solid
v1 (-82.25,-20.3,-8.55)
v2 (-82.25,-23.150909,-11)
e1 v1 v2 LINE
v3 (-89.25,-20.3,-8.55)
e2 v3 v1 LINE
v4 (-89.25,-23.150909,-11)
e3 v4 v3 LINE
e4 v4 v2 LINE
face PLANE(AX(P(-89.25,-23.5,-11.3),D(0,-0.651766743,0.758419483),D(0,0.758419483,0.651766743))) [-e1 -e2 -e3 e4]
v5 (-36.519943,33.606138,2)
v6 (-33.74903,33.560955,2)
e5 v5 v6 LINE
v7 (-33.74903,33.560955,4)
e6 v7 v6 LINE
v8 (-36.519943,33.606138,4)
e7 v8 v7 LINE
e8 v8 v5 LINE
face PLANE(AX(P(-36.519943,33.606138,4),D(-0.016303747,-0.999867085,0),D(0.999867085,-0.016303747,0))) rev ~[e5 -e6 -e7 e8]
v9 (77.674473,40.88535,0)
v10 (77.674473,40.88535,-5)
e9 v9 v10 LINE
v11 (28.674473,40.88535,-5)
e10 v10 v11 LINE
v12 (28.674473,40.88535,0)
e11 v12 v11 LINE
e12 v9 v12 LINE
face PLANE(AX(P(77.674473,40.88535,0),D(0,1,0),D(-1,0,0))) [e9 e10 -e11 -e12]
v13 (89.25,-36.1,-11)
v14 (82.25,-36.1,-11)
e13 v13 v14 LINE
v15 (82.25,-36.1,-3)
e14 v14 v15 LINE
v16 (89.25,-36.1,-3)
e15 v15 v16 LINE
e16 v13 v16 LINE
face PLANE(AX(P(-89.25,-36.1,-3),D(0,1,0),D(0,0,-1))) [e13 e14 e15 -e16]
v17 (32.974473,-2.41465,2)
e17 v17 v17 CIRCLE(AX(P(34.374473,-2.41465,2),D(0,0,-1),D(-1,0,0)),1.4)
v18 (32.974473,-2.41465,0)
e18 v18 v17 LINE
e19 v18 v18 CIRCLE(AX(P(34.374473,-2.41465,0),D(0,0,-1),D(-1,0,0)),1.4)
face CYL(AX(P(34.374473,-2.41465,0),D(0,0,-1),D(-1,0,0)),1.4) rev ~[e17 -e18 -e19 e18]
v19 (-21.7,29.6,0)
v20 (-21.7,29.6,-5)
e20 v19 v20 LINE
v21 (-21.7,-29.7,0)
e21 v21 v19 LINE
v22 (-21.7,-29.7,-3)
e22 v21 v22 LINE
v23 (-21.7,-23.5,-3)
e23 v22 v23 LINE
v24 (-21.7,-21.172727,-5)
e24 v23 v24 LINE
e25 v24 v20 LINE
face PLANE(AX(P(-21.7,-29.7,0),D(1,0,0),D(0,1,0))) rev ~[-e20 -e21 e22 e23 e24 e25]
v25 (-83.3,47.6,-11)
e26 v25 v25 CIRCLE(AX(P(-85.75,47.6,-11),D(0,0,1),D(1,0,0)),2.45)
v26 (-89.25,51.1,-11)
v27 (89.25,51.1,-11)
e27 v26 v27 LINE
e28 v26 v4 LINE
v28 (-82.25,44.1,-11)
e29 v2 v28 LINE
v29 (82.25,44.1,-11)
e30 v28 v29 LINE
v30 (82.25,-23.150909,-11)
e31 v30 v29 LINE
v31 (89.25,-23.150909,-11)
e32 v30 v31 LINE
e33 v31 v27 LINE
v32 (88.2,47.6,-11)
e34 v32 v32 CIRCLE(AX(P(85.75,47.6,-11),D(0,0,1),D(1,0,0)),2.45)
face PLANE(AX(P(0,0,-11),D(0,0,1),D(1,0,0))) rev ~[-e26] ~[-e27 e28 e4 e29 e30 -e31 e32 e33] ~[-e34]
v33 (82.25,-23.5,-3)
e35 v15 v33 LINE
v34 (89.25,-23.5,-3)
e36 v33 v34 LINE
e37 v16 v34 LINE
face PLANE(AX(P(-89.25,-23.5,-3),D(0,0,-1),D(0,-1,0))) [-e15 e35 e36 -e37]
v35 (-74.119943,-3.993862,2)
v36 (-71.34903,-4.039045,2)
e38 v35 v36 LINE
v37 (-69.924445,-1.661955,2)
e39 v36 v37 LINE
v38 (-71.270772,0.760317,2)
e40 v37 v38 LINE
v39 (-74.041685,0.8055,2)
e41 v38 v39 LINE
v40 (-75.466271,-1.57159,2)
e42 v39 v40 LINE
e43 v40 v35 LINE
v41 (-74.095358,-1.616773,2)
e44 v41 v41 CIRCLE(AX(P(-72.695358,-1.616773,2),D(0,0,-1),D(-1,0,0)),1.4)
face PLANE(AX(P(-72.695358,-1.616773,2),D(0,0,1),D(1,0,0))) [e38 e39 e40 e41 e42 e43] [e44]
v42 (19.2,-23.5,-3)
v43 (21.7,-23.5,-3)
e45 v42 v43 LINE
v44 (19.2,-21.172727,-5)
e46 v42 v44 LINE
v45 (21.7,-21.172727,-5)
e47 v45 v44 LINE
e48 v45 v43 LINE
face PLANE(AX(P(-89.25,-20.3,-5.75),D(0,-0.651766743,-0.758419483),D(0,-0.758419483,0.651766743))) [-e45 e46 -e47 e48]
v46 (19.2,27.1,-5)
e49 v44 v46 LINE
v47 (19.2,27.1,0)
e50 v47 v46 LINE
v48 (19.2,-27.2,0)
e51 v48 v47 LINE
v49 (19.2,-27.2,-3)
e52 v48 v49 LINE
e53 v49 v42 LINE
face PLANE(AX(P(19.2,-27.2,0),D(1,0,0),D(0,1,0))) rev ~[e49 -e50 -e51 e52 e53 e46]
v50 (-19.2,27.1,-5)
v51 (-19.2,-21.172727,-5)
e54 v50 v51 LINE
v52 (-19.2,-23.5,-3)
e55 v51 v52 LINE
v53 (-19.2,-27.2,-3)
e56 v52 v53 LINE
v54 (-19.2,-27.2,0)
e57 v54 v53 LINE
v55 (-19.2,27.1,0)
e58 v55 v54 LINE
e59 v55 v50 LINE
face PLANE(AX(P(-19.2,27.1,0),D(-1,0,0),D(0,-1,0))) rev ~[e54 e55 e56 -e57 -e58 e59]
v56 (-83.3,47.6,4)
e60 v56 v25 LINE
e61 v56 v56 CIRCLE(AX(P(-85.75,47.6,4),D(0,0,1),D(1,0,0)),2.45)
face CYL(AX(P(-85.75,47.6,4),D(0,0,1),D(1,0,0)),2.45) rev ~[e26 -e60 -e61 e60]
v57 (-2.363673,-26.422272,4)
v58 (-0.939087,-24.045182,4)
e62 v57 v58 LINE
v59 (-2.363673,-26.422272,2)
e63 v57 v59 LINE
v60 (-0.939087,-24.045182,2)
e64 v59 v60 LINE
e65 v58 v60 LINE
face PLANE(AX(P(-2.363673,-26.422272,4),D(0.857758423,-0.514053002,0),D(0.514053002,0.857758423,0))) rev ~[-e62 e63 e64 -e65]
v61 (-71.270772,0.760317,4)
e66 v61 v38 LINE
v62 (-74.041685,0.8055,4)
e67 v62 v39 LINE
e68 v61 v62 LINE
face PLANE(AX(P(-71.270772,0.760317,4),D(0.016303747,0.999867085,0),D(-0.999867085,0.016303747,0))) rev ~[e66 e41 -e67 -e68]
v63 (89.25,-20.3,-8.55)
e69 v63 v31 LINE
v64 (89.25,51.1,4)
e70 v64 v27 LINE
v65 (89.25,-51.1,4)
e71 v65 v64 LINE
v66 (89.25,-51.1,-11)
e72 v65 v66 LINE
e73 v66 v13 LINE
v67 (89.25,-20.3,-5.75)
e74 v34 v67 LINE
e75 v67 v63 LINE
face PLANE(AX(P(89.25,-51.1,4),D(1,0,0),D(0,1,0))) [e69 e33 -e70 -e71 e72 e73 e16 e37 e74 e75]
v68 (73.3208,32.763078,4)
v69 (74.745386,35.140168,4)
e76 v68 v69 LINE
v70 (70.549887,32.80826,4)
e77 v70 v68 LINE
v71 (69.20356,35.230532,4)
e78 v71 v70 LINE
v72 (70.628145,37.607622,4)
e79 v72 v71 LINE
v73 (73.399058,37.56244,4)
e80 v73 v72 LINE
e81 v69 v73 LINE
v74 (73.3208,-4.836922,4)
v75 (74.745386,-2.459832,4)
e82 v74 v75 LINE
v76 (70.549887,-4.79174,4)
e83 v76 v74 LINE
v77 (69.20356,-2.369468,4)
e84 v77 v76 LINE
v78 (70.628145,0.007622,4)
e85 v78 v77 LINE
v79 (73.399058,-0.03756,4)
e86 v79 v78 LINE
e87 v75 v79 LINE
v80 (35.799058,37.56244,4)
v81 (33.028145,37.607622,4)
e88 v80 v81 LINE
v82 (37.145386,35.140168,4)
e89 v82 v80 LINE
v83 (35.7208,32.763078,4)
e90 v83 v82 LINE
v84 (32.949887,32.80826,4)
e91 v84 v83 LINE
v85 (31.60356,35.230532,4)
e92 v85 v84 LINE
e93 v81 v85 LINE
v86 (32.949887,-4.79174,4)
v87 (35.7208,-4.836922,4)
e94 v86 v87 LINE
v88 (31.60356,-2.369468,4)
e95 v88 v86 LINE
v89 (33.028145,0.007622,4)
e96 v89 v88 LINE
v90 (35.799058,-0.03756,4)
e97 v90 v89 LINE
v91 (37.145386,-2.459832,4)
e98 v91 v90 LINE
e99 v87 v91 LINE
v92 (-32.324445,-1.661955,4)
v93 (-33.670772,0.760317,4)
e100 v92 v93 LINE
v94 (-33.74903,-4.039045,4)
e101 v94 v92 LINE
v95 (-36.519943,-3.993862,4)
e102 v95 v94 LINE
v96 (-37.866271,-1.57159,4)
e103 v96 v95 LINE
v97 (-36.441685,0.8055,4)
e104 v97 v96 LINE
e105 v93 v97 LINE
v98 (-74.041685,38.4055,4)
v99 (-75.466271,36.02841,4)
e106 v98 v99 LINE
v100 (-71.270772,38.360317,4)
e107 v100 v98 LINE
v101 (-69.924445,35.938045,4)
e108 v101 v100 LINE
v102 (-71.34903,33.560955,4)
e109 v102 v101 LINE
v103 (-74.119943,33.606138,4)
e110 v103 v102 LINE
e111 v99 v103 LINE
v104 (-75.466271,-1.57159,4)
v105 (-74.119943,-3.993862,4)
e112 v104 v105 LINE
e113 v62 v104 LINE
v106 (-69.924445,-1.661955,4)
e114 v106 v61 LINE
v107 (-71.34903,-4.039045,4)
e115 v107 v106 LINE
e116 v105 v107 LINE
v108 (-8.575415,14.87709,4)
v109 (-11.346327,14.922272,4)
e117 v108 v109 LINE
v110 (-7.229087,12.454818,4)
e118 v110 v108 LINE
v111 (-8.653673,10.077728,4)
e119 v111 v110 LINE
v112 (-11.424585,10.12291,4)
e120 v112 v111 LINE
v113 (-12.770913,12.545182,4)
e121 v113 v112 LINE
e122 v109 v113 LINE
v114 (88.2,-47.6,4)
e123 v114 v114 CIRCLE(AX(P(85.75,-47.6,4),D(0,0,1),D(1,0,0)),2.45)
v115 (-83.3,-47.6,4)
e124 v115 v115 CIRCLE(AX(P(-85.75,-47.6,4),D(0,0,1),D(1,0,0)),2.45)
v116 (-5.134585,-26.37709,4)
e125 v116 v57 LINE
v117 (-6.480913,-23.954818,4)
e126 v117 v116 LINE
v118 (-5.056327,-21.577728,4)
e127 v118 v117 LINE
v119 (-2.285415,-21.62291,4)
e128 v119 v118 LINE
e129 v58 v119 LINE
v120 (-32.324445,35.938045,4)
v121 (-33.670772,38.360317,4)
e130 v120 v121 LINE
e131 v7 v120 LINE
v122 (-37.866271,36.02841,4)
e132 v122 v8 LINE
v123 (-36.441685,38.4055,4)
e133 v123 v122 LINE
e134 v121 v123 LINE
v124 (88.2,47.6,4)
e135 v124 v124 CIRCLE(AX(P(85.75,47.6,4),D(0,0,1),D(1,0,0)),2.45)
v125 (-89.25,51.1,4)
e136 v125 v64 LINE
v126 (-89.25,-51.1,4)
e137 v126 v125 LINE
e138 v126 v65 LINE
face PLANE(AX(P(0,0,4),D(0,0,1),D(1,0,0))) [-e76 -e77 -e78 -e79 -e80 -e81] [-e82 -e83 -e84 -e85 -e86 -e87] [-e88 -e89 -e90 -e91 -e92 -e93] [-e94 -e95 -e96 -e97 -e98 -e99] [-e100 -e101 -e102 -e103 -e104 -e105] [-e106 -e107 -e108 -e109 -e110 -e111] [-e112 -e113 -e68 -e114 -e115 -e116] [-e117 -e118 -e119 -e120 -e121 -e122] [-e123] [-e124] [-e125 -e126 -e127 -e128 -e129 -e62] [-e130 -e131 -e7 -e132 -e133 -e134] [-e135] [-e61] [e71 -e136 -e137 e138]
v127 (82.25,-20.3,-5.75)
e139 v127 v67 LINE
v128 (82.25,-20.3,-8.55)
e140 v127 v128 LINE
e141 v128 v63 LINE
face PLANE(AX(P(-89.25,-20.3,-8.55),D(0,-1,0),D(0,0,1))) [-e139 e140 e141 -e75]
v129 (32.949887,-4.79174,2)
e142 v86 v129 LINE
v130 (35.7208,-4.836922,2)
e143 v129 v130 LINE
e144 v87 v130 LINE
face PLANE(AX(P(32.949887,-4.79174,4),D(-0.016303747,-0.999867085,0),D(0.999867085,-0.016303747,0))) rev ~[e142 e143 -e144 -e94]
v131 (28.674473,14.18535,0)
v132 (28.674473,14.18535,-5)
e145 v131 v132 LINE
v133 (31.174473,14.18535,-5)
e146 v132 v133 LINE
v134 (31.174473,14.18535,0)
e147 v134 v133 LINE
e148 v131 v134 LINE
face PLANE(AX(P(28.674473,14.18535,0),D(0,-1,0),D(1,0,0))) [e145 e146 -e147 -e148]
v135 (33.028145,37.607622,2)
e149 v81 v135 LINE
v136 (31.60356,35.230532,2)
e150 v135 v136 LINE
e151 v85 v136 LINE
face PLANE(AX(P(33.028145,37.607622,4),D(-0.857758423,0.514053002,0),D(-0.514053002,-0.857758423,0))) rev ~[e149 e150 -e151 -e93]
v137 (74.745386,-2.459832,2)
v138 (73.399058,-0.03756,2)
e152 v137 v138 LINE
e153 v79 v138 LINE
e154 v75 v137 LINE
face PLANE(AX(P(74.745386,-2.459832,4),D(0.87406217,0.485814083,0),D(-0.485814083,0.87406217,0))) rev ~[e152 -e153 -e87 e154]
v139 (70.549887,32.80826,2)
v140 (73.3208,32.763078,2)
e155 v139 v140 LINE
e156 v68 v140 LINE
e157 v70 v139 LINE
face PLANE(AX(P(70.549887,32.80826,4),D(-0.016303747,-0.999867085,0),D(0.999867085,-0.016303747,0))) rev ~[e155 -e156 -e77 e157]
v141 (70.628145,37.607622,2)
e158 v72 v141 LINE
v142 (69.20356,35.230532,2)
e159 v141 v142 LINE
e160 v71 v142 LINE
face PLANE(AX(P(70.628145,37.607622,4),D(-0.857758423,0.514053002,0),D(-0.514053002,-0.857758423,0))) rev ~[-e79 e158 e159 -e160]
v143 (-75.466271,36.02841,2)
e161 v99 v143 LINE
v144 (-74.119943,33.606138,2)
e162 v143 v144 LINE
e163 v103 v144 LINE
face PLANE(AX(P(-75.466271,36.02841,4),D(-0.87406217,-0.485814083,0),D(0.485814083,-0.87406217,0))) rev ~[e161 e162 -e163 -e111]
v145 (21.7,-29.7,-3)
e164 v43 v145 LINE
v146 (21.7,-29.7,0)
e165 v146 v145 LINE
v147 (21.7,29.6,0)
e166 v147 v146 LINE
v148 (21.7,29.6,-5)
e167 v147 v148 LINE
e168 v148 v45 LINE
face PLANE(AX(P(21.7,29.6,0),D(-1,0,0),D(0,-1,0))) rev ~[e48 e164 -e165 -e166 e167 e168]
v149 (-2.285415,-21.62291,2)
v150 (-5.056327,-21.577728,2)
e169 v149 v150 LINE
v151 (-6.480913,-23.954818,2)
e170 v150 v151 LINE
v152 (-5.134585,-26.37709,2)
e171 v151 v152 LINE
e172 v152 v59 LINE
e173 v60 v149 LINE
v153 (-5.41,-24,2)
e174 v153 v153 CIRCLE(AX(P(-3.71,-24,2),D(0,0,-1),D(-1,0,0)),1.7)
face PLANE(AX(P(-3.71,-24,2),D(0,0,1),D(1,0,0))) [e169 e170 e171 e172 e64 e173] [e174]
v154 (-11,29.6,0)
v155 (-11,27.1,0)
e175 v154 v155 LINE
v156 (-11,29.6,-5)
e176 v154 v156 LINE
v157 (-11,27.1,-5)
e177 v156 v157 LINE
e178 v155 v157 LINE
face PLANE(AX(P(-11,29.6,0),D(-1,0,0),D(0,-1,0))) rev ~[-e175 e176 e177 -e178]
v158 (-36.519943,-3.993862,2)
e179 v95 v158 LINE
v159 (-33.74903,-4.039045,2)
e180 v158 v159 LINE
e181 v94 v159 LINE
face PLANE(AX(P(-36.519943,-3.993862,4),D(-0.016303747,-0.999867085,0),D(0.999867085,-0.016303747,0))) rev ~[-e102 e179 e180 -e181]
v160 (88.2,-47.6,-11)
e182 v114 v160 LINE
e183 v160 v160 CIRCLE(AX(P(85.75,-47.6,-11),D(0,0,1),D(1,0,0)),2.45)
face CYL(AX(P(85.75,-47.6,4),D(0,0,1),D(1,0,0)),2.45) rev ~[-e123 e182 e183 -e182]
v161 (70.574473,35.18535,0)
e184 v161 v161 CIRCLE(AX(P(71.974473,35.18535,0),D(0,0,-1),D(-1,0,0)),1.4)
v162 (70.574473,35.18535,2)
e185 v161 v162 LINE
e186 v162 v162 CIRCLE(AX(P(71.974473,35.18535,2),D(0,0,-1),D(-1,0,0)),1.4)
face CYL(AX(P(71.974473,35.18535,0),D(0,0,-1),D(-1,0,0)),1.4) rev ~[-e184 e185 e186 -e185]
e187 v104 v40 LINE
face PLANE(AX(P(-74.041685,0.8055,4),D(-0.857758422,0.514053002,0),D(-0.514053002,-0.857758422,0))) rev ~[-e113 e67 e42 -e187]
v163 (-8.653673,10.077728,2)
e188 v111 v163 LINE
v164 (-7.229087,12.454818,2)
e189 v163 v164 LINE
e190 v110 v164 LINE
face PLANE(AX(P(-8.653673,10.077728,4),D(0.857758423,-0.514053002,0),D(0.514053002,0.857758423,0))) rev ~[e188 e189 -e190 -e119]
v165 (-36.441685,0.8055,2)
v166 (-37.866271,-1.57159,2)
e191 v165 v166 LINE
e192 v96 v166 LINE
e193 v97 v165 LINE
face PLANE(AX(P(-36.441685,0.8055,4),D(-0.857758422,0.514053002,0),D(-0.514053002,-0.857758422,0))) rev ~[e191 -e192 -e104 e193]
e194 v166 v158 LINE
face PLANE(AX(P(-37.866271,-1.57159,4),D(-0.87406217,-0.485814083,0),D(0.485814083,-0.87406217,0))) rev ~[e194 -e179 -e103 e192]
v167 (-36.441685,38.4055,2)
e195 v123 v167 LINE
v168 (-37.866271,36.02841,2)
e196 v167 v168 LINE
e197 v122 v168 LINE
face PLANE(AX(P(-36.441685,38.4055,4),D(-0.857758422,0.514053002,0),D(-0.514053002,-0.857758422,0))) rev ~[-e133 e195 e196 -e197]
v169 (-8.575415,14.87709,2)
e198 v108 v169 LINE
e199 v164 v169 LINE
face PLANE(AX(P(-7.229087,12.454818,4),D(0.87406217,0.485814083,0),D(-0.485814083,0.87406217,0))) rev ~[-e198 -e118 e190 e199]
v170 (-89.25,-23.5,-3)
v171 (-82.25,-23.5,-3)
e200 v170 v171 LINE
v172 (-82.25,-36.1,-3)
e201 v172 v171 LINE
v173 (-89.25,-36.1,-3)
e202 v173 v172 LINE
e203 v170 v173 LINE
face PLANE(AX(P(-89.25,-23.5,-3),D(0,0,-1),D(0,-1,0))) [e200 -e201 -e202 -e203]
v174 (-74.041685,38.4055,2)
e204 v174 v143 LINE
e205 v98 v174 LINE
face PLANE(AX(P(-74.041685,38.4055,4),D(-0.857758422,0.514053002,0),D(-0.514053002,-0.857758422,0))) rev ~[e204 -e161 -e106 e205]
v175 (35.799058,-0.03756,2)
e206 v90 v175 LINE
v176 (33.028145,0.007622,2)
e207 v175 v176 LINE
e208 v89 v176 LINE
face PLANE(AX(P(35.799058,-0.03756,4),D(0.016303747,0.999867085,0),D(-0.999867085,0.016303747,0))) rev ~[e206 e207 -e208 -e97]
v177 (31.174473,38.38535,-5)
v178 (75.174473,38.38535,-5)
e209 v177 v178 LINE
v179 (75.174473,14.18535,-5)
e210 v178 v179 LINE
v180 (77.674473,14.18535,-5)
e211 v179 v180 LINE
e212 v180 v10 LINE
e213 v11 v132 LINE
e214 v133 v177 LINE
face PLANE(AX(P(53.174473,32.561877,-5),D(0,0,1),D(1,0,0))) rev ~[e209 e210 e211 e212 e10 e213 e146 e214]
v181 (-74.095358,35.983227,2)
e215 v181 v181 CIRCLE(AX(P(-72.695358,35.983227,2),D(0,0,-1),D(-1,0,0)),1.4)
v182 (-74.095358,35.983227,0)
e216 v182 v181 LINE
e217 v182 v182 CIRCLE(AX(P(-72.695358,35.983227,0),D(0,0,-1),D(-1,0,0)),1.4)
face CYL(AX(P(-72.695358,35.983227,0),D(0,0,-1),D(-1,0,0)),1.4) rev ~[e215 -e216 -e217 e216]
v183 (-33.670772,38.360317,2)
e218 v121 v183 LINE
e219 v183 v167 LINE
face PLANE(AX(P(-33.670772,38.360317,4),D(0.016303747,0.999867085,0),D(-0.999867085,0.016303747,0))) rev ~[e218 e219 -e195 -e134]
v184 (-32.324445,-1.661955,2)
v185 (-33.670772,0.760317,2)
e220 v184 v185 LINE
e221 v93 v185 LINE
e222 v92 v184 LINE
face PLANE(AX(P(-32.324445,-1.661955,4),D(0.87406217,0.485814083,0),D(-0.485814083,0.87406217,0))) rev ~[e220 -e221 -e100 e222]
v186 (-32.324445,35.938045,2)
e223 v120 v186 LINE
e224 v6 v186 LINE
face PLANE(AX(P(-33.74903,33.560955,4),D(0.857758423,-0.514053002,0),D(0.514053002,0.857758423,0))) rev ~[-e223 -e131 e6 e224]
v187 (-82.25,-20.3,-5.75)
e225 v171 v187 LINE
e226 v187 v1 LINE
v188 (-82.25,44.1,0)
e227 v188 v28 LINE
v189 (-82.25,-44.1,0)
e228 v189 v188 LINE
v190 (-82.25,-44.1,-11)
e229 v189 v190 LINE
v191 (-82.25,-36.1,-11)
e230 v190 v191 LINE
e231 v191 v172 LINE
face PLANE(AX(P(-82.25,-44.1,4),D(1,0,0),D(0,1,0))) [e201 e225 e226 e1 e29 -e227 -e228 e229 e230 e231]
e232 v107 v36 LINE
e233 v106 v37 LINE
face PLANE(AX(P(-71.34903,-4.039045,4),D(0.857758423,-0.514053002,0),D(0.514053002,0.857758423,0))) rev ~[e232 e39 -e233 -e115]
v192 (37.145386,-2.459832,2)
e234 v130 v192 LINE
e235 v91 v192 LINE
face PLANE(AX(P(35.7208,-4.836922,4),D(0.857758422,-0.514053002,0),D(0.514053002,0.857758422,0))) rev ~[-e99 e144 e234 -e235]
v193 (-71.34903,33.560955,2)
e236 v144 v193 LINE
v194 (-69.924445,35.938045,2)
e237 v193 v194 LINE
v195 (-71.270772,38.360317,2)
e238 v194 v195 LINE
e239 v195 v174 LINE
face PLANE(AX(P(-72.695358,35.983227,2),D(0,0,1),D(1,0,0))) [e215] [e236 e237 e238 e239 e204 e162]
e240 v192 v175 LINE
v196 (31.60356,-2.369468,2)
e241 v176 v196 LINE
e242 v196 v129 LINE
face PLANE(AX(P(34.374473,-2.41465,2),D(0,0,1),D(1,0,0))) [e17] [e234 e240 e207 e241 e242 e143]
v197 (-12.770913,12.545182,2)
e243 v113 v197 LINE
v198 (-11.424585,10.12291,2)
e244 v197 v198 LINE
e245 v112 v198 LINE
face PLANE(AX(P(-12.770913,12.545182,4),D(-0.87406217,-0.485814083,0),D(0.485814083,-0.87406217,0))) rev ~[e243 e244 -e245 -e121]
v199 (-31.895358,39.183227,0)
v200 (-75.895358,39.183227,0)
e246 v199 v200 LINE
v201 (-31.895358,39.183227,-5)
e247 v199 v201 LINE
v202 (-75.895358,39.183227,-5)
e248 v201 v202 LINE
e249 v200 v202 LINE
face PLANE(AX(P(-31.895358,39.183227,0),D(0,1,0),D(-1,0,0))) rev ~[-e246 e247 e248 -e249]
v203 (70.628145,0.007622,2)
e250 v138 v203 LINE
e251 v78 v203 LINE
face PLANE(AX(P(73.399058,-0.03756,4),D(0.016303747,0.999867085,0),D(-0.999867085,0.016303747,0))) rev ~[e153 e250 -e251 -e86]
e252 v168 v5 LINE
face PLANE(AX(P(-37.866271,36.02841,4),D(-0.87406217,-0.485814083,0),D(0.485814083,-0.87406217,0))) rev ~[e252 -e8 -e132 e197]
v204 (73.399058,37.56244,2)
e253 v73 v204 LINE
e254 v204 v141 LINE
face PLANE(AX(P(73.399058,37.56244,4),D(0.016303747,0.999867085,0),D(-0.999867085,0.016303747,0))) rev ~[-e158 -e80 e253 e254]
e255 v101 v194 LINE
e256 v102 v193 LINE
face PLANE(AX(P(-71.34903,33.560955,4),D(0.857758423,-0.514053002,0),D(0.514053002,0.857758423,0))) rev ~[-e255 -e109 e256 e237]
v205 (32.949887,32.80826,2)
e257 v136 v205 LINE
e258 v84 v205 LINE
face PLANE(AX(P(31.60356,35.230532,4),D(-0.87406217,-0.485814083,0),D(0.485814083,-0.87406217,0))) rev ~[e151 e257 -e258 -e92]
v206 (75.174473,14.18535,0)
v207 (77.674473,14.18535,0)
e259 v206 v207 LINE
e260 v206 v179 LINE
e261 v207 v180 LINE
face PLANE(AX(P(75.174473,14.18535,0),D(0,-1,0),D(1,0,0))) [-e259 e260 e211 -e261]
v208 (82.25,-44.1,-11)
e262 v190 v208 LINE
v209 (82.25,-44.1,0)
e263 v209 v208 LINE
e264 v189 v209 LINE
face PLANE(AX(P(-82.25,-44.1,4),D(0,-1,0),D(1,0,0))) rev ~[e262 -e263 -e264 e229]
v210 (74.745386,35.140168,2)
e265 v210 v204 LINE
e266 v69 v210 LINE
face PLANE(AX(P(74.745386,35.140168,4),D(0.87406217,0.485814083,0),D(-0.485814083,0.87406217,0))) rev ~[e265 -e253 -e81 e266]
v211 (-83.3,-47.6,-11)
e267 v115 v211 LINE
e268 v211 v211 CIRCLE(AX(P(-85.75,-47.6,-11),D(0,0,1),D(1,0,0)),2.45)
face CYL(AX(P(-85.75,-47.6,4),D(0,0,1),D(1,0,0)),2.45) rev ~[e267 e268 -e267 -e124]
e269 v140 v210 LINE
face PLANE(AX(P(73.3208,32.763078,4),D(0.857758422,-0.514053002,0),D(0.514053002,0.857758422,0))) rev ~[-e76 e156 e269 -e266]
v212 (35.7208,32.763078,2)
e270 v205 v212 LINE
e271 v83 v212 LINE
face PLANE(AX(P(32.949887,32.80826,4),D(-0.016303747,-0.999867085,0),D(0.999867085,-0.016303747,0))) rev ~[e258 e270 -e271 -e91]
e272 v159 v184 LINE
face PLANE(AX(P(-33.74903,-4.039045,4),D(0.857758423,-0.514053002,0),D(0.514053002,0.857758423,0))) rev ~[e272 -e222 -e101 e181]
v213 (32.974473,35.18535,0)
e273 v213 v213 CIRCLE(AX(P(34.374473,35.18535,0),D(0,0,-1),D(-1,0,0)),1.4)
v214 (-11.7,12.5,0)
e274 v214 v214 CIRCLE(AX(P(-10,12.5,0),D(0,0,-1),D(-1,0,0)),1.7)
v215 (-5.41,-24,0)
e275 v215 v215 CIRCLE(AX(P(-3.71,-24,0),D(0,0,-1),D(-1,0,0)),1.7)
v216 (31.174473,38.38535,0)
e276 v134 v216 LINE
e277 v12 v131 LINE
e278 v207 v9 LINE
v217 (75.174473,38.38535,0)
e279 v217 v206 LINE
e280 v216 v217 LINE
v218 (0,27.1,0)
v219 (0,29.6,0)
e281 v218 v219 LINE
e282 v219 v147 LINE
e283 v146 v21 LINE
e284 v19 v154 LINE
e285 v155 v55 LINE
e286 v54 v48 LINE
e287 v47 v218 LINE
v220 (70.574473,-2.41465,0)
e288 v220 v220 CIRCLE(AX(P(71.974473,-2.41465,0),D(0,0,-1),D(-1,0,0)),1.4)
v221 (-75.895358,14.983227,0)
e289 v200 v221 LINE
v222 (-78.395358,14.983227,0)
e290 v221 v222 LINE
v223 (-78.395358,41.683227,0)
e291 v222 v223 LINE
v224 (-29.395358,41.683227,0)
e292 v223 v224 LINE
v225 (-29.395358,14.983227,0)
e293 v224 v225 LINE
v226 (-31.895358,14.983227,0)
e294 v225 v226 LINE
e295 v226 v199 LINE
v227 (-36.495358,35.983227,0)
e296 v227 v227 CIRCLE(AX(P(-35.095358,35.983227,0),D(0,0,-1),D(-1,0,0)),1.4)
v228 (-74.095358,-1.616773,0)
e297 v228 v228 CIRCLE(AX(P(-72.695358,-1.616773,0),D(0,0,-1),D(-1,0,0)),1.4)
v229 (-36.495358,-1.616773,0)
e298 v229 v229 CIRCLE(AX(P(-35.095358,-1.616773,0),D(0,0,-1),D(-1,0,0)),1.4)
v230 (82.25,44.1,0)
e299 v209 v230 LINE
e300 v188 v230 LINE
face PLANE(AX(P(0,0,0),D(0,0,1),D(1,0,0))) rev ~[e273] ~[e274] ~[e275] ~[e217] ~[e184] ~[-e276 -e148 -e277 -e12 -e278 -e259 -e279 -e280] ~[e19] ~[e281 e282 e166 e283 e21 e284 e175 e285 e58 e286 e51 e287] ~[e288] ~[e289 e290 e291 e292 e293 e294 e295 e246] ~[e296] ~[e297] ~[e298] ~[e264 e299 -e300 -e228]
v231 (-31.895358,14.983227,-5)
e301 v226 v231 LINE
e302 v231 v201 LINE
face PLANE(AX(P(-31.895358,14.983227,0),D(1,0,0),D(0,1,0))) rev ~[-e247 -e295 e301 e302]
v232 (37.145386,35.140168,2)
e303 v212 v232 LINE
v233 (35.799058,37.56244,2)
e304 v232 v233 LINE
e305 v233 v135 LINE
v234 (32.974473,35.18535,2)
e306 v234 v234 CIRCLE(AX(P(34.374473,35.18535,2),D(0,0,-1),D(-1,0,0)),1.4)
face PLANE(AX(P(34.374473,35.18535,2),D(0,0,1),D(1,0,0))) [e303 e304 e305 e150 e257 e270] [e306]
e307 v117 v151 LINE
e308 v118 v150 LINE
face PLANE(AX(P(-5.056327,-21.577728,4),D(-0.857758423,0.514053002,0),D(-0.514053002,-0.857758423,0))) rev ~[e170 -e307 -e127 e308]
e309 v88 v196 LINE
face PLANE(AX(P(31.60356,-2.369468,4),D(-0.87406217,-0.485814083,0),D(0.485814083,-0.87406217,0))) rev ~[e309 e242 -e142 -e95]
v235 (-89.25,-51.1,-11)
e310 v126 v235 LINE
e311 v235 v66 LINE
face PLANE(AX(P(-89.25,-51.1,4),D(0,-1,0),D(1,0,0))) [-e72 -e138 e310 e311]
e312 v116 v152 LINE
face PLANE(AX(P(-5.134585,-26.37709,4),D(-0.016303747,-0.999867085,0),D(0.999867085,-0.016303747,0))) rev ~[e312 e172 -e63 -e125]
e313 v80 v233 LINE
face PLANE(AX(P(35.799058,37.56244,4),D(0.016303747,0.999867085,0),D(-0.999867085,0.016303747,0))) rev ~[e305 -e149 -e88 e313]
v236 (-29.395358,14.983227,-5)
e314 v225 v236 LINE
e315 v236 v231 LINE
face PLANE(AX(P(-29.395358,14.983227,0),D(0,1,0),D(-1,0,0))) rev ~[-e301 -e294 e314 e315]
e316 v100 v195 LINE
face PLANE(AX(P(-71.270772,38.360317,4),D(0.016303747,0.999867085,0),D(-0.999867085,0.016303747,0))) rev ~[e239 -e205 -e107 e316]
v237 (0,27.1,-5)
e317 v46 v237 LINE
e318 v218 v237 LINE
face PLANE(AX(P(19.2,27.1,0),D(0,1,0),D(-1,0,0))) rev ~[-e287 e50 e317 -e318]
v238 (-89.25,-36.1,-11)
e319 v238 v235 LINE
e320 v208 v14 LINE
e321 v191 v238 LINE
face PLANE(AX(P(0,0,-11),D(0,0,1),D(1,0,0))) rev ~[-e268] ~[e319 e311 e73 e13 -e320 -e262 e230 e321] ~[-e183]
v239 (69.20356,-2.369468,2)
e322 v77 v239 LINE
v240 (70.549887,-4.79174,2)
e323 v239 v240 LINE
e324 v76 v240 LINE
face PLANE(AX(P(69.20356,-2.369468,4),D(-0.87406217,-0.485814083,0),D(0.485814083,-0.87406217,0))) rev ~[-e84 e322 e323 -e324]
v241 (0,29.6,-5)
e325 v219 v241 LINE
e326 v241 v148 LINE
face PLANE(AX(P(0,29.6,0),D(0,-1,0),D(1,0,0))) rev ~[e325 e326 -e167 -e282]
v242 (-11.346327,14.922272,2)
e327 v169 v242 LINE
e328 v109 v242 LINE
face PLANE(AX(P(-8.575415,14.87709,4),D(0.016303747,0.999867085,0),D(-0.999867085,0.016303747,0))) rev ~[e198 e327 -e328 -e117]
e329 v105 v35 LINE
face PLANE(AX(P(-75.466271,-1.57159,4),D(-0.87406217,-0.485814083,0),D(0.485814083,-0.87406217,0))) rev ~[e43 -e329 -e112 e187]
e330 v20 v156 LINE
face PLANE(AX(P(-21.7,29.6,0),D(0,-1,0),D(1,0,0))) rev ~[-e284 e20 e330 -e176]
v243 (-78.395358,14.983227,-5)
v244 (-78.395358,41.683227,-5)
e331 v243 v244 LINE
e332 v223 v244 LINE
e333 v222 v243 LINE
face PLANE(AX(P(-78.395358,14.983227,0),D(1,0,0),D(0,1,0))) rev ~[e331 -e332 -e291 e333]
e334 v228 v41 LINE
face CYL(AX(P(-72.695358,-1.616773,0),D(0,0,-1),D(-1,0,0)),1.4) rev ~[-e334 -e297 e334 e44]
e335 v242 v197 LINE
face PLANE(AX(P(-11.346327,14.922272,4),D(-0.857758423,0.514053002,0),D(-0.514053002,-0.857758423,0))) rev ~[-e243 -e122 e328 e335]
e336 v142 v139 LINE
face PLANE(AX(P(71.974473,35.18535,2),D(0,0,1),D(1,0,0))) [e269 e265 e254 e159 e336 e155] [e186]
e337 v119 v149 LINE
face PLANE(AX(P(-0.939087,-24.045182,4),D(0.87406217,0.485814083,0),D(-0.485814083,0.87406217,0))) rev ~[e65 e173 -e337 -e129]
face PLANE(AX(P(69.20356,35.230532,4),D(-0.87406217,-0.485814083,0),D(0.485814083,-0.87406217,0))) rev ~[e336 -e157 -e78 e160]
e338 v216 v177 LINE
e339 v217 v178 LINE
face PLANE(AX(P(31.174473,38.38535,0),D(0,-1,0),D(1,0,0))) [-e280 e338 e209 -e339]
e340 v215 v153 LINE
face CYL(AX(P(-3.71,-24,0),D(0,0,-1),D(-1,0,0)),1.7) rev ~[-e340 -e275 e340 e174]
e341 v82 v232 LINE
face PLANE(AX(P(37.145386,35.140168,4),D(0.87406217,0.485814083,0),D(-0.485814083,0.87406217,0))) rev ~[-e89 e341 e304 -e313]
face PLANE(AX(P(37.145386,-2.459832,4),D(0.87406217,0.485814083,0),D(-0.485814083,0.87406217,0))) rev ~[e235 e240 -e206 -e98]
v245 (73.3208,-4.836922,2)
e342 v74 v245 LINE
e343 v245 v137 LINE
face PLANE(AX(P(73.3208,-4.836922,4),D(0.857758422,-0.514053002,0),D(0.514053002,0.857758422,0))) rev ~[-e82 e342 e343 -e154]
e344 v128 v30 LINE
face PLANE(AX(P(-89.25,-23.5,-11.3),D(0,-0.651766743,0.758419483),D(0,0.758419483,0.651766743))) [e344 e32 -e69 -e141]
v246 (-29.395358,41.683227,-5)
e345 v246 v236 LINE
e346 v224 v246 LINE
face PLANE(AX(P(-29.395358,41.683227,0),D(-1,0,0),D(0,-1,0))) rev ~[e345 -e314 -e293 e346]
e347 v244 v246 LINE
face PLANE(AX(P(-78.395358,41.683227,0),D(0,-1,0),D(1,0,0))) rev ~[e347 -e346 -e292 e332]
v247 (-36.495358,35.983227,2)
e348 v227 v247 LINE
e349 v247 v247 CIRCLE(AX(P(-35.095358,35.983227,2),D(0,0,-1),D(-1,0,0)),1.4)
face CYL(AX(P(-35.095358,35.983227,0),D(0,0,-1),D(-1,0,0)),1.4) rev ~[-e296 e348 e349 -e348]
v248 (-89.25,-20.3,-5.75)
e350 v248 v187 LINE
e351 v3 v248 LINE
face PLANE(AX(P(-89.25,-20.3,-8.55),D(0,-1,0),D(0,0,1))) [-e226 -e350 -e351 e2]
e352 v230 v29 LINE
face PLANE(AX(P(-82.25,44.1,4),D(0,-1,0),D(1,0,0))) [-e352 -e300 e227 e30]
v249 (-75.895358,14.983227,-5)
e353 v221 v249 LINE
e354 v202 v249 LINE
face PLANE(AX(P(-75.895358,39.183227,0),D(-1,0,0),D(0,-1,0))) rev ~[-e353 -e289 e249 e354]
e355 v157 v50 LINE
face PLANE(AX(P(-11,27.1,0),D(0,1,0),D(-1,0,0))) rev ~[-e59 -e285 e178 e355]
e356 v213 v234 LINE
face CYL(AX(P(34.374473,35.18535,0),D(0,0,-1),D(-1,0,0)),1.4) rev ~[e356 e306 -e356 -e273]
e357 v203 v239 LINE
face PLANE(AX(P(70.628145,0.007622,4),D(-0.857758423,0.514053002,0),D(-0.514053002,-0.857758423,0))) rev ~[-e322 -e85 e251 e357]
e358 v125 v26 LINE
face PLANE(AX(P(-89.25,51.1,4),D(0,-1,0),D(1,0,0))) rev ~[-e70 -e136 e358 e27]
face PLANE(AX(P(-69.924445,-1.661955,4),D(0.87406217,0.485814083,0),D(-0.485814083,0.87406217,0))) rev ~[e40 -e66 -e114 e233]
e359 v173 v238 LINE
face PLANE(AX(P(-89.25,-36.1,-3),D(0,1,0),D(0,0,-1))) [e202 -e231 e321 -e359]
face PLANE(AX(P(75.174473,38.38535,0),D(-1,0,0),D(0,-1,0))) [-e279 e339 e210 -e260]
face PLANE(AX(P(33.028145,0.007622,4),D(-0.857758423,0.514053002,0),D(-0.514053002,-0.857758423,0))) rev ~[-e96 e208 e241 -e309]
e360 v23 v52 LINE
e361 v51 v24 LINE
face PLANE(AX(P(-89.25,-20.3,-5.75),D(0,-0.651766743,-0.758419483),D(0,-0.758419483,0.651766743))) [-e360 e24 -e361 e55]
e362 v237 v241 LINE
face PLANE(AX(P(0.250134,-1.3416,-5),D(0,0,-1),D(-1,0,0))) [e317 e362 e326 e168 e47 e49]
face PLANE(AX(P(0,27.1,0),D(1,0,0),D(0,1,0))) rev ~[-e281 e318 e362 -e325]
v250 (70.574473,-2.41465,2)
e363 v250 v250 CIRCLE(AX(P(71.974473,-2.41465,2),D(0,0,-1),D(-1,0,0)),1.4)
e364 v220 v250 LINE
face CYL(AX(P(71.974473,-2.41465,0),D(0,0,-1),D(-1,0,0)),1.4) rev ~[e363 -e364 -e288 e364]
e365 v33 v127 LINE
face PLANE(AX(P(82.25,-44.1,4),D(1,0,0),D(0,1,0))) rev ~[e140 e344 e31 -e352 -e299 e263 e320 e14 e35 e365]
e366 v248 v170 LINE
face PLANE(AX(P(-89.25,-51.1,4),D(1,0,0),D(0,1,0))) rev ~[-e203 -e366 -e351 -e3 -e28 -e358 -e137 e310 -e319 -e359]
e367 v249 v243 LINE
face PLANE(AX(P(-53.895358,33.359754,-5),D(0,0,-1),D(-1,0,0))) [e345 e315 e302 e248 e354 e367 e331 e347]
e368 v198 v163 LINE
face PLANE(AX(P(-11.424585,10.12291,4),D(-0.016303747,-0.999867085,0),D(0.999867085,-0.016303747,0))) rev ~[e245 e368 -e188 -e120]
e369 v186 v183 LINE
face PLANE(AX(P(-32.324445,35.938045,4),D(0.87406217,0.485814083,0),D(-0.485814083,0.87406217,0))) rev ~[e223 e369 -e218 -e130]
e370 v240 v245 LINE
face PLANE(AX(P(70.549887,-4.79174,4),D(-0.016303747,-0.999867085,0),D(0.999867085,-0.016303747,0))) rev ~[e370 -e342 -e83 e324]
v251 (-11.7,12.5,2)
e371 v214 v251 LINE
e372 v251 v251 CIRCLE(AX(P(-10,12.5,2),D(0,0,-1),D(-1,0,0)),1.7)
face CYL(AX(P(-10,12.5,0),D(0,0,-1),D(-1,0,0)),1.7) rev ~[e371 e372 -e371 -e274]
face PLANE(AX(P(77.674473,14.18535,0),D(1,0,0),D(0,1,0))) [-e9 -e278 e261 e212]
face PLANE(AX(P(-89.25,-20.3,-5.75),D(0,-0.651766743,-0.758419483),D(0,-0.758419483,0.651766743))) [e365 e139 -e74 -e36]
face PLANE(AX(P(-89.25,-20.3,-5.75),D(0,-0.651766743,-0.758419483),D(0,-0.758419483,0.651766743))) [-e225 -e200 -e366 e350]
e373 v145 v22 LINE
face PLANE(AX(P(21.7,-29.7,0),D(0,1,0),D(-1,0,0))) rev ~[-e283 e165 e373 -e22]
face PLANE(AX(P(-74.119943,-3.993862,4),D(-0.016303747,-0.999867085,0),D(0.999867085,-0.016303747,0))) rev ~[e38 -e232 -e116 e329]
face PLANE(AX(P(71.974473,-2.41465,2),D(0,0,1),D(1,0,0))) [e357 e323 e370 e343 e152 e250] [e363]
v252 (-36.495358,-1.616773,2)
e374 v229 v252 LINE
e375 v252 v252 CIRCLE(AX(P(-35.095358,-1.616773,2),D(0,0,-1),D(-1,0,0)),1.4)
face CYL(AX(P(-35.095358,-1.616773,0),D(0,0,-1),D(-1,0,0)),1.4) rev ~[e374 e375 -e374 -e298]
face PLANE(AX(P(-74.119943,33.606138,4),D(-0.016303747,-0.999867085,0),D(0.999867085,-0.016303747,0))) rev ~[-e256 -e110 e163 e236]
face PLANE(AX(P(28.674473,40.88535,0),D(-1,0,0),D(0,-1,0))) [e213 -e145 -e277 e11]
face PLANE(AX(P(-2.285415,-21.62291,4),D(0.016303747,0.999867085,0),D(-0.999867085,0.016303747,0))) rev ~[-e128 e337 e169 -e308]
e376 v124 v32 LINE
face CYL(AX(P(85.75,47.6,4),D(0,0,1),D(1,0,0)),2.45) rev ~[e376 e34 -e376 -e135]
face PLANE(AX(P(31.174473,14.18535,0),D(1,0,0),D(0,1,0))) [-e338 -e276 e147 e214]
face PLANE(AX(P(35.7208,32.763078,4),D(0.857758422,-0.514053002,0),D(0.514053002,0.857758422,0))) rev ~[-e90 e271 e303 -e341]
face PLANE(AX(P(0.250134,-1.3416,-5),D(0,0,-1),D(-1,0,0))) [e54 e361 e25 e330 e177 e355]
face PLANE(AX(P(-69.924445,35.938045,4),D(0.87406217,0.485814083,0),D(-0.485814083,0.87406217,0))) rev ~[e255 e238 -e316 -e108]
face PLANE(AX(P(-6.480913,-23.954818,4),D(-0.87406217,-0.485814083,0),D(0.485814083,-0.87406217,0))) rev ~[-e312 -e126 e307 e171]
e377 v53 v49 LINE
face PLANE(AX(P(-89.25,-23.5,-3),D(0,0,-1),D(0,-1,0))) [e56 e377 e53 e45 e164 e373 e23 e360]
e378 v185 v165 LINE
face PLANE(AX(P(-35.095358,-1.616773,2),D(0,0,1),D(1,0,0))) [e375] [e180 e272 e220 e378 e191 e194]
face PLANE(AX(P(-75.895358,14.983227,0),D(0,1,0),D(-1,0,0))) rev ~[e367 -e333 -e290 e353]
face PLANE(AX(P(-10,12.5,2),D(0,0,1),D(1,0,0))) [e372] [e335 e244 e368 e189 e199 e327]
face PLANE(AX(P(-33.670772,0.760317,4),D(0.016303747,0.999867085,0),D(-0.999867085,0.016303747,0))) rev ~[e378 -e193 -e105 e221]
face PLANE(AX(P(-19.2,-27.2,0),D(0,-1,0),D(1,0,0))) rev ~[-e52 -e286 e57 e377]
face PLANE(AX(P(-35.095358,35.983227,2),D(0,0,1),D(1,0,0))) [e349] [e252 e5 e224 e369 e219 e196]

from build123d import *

# Parameters (mm, degrees)
SKETCH_1_W               = 164.5
SKETCH_1_H               = 88.2
EXTRUDE_1_DEPTH          = 4
SKETCH_2_W               = 178.5
SKETCH_2_H               = 102.2
SKETCH_2_R               = 2.45
SKETCH_2_W_2             = 164.5
SKETCH_2_H_2             = 88.2
EXTRUDE_3_DEPTH          = 15
EXTRUDE_5_DEPTH          = 5
SKETCH_3_4_R             = 1.7
CUT_EXTRUDE_3_DEPTH      = 12
CUT_EXTRUDE_3_DEPTH_BACK = 5
EXTRUDE_6_DEPTH          = 5
SKETCH_4_3_R             = 1.4
CUT_EXTRUDE_4_DEPTH      = 12
CUT_EXTRUDE_4_DEPTH_BACK = 5
CUT_EXTRUDE_5_DEPTH      = 1
CUT_EXTRUDE_5_DEPTH_BACK = 179.5
CUT_EXTRUDE_6_DEPTH      = 2


with BuildPart() as part:
    # Sketch 1 → Extrude 1 (new body)
    with BuildSketch(Plane.XY):
        Rectangle(SKETCH_1_W, SKETCH_1_H)
    extrude(amount=EXTRUDE_1_DEPTH)

    # Sketch 2 → Extrude 3 (add)
    with BuildSketch(Plane.XY.offset(4)):
        Rectangle(SKETCH_2_W, SKETCH_2_H)
        with Locations((-85.75, 47.6)):
            Circle(SKETCH_2_R, mode=Mode.SUBTRACT)
        with Locations((-85.75, -47.6)):
            Circle(SKETCH_2_R, mode=Mode.SUBTRACT)
        with Locations((85.75, 47.6)):
            Circle(SKETCH_2_R, mode=Mode.SUBTRACT)
        with Locations((85.75, -47.6)):
            Circle(SKETCH_2_R, mode=Mode.SUBTRACT)
        Rectangle(SKETCH_2_W_2, SKETCH_2_H_2, mode=Mode.SUBTRACT)
    extrude(amount=-EXTRUDE_3_DEPTH)

    # Sketch 3 → Extrude 5 (add)
    with BuildSketch(Plane(origin=(0, 0, 0), x_dir=(-1, 0, 0), z_dir=(0, 0, -1))):
        Polygon((-21.7, 29.6), (-21.7, -29.7), (21.7, -29.7), (21.7, 29.6), (11, 29.6), (11, 27.1), (19.2, 27.1), (19.2, -27.2), (-19.2, -27.2), (-19.2, 27.1), (0, 27.1), (0, 29.6), align=None)
    extrude(amount=EXTRUDE_5_DEPTH)

    # Sketch 3_4 → Cut-Extrude 3 (cut, two sides)
    with BuildSketch(Plane(origin=(0, 0, 0), x_dir=(-1, 0, 0), z_dir=(0, 0, -1))) as cut_extrude_3_sk:
        with Locations((3.71, -24)):
            Circle(SKETCH_3_4_R)
        with Locations((10, 12.5)):
            Circle(SKETCH_3_4_R)
    extrude(amount=CUT_EXTRUDE_3_DEPTH, mode=Mode.SUBTRACT)
    extrude(cut_extrude_3_sk.sketch, amount=-CUT_EXTRUDE_3_DEPTH_BACK, mode=Mode.SUBTRACT)

    # Sketch 4 → Extrude 6 (add)
    with BuildSketch(Plane(origin=(0, 0, 0), x_dir=(-1, 0, 0), z_dir=(0, 0, -1))):
        Polygon((75.895357905, 39.183227458), (75.895357905, 14.983227458), (78.395357905, 14.983227458), (78.395357905, 41.683227458), (29.395357905, 41.683227458), (29.395357905, 14.983227458), (31.895357905, 14.983227458), (31.895357905, 39.183227458), align=None)
        Polygon((-77.674472702, 40.885349978), (-28.674472702, 40.885349978), (-28.674472702, 14.185349978), (-31.174472702, 14.185349978), (-31.174472702, 38.385349978), (-75.174472702, 38.385349978), (-75.174472702, 14.185349978), (-77.674472702, 14.185349978), align=None)
    extrude(amount=EXTRUDE_6_DEPTH)

    # Sketch 4_3 → Cut-Extrude 4 (cut, two sides)
    with BuildSketch(Plane(origin=(0, 0, 0), x_dir=(-1, 0, 0), z_dir=(0, 0, -1))) as cut_extrude_4_sk:
        with Locations((72.695357905, 35.983227458)):
            Circle(SKETCH_4_3_R)
        with Locations((72.695357905, -1.616772542)):
            Circle(SKETCH_4_3_R)
        with Locations((35.095357905, -1.616772542)):
            Circle(SKETCH_4_3_R)
        with Locations((35.095357905, 35.983227458)):
            Circle(SKETCH_4_3_R)
        with Locations((-34.374472702, 35.185349978)):
            Circle(SKETCH_4_3_R)
        with Locations((-34.374472702, -2.414650022)):
            Circle(SKETCH_4_3_R)
        with Locations((-71.974472702, -2.414650022)):
            Circle(SKETCH_4_3_R)
        with Locations((-71.974472702, 35.185349978)):
            Circle(SKETCH_4_3_R)
    extrude(amount=CUT_EXTRUDE_4_DEPTH, mode=Mode.SUBTRACT)
    extrude(cut_extrude_4_sk.sketch, amount=-CUT_EXTRUDE_4_DEPTH_BACK, mode=Mode.SUBTRACT)

    # Sketch 5 → Cut-Extrude 5 (cut, two sides)
    with BuildSketch(Plane.ZY.offset(89.25)) as cut_extrude_5_sk:
        Polygon((-8.55, -20.3), (-5.75, -20.3), (-3, -23.5), (-3, -36.1), (-11.3, -36.1), (-11.3, -23.5), align=None)
    extrude(amount=CUT_EXTRUDE_5_DEPTH, mode=Mode.SUBTRACT)
    extrude(cut_extrude_5_sk.sketch, amount=-CUT_EXTRUDE_5_DEPTH_BACK, mode=Mode.SUBTRACT)

    # Sketch 6 → Cut-Extrude 6 (cut)
    with BuildSketch(Plane.XY.offset(4)):
        Polygon((-37.866270853, 36.028409728), (-36.519943372, 33.606137589), (-33.749030425, 33.560955319), (-32.324444958, 35.938045189), (-33.670772438, 38.360317328), (-36.441685386, 38.405499597), align=None)
        Polygon((-71.349030425, 33.560955319), (-69.924444958, 35.938045189), (-71.270772438, 38.360317328), (-74.041685386, 38.405499597), (-75.466270853, 36.028409728), (-74.119943372, 33.606137589), align=None)
        Polygon((-33.670772438, 0.760317328), (-36.441685386, 0.805499597), (-37.866270853, -1.571590272), (-36.519943372, -3.993862411), (-33.749030425, -4.039044681), (-32.324444958, -1.661954811), align=None)
        Polygon((-71.349030425, -4.039044681), (-69.924444958, -1.661954811), (-71.270772438, 0.760317328), (-74.041685386, 0.805499597), (-75.466270853, -1.571590272), (-74.119943372, -3.993862411), align=None)
        Polygon((35.799058169, 37.562439847), (33.028145222, 37.607622117), (31.603559755, 35.230532247), (32.949887235, 32.808260108), (35.720800183, 32.763077839), (37.14538565, 35.140167708), align=None)
        Polygon((33.028145222, 0.007622117), (31.603559755, -2.369467753), (32.949887235, -4.791739892), (35.720800183, -4.836922161), (37.14538565, -2.459832292), (35.799058169, -0.037560153), align=None)
        Polygon((69.203559755, 35.230532247), (70.549887235, 32.808260108), (73.320800183, 32.763077839), (74.74538565, 35.140167708), (73.399058169, 37.562439847), (70.628145222, 37.607622117), align=None)
        Polygon((73.399058169, -0.037560153), (70.628145222, 0.007622117), (69.203559755, -2.369467753), (70.549887235, -4.791739892), (73.320800183, -4.836922161), (74.74538565, -2.459832292), align=None)
        Polygon((-11.346327481, 14.922272139), (-12.770912947, 12.54518227), (-11.424585467, 10.122910131), (-8.653672519, 10.077727861), (-7.229087053, 12.45481773), (-8.575414533, 14.877089869), align=None)
        Polygon((-5.056327481, -21.577727861), (-6.480912947, -23.95481773), (-5.134585467, -26.377089869), (-2.363672519, -26.422272139), (-0.939087053, -24.04518227), (-2.285414533, -21.622910131), align=None)
    extrude(amount=-CUT_EXTRUDE_6_DEPTH, mode=Mode.SUBTRACT)


solid = part.part
